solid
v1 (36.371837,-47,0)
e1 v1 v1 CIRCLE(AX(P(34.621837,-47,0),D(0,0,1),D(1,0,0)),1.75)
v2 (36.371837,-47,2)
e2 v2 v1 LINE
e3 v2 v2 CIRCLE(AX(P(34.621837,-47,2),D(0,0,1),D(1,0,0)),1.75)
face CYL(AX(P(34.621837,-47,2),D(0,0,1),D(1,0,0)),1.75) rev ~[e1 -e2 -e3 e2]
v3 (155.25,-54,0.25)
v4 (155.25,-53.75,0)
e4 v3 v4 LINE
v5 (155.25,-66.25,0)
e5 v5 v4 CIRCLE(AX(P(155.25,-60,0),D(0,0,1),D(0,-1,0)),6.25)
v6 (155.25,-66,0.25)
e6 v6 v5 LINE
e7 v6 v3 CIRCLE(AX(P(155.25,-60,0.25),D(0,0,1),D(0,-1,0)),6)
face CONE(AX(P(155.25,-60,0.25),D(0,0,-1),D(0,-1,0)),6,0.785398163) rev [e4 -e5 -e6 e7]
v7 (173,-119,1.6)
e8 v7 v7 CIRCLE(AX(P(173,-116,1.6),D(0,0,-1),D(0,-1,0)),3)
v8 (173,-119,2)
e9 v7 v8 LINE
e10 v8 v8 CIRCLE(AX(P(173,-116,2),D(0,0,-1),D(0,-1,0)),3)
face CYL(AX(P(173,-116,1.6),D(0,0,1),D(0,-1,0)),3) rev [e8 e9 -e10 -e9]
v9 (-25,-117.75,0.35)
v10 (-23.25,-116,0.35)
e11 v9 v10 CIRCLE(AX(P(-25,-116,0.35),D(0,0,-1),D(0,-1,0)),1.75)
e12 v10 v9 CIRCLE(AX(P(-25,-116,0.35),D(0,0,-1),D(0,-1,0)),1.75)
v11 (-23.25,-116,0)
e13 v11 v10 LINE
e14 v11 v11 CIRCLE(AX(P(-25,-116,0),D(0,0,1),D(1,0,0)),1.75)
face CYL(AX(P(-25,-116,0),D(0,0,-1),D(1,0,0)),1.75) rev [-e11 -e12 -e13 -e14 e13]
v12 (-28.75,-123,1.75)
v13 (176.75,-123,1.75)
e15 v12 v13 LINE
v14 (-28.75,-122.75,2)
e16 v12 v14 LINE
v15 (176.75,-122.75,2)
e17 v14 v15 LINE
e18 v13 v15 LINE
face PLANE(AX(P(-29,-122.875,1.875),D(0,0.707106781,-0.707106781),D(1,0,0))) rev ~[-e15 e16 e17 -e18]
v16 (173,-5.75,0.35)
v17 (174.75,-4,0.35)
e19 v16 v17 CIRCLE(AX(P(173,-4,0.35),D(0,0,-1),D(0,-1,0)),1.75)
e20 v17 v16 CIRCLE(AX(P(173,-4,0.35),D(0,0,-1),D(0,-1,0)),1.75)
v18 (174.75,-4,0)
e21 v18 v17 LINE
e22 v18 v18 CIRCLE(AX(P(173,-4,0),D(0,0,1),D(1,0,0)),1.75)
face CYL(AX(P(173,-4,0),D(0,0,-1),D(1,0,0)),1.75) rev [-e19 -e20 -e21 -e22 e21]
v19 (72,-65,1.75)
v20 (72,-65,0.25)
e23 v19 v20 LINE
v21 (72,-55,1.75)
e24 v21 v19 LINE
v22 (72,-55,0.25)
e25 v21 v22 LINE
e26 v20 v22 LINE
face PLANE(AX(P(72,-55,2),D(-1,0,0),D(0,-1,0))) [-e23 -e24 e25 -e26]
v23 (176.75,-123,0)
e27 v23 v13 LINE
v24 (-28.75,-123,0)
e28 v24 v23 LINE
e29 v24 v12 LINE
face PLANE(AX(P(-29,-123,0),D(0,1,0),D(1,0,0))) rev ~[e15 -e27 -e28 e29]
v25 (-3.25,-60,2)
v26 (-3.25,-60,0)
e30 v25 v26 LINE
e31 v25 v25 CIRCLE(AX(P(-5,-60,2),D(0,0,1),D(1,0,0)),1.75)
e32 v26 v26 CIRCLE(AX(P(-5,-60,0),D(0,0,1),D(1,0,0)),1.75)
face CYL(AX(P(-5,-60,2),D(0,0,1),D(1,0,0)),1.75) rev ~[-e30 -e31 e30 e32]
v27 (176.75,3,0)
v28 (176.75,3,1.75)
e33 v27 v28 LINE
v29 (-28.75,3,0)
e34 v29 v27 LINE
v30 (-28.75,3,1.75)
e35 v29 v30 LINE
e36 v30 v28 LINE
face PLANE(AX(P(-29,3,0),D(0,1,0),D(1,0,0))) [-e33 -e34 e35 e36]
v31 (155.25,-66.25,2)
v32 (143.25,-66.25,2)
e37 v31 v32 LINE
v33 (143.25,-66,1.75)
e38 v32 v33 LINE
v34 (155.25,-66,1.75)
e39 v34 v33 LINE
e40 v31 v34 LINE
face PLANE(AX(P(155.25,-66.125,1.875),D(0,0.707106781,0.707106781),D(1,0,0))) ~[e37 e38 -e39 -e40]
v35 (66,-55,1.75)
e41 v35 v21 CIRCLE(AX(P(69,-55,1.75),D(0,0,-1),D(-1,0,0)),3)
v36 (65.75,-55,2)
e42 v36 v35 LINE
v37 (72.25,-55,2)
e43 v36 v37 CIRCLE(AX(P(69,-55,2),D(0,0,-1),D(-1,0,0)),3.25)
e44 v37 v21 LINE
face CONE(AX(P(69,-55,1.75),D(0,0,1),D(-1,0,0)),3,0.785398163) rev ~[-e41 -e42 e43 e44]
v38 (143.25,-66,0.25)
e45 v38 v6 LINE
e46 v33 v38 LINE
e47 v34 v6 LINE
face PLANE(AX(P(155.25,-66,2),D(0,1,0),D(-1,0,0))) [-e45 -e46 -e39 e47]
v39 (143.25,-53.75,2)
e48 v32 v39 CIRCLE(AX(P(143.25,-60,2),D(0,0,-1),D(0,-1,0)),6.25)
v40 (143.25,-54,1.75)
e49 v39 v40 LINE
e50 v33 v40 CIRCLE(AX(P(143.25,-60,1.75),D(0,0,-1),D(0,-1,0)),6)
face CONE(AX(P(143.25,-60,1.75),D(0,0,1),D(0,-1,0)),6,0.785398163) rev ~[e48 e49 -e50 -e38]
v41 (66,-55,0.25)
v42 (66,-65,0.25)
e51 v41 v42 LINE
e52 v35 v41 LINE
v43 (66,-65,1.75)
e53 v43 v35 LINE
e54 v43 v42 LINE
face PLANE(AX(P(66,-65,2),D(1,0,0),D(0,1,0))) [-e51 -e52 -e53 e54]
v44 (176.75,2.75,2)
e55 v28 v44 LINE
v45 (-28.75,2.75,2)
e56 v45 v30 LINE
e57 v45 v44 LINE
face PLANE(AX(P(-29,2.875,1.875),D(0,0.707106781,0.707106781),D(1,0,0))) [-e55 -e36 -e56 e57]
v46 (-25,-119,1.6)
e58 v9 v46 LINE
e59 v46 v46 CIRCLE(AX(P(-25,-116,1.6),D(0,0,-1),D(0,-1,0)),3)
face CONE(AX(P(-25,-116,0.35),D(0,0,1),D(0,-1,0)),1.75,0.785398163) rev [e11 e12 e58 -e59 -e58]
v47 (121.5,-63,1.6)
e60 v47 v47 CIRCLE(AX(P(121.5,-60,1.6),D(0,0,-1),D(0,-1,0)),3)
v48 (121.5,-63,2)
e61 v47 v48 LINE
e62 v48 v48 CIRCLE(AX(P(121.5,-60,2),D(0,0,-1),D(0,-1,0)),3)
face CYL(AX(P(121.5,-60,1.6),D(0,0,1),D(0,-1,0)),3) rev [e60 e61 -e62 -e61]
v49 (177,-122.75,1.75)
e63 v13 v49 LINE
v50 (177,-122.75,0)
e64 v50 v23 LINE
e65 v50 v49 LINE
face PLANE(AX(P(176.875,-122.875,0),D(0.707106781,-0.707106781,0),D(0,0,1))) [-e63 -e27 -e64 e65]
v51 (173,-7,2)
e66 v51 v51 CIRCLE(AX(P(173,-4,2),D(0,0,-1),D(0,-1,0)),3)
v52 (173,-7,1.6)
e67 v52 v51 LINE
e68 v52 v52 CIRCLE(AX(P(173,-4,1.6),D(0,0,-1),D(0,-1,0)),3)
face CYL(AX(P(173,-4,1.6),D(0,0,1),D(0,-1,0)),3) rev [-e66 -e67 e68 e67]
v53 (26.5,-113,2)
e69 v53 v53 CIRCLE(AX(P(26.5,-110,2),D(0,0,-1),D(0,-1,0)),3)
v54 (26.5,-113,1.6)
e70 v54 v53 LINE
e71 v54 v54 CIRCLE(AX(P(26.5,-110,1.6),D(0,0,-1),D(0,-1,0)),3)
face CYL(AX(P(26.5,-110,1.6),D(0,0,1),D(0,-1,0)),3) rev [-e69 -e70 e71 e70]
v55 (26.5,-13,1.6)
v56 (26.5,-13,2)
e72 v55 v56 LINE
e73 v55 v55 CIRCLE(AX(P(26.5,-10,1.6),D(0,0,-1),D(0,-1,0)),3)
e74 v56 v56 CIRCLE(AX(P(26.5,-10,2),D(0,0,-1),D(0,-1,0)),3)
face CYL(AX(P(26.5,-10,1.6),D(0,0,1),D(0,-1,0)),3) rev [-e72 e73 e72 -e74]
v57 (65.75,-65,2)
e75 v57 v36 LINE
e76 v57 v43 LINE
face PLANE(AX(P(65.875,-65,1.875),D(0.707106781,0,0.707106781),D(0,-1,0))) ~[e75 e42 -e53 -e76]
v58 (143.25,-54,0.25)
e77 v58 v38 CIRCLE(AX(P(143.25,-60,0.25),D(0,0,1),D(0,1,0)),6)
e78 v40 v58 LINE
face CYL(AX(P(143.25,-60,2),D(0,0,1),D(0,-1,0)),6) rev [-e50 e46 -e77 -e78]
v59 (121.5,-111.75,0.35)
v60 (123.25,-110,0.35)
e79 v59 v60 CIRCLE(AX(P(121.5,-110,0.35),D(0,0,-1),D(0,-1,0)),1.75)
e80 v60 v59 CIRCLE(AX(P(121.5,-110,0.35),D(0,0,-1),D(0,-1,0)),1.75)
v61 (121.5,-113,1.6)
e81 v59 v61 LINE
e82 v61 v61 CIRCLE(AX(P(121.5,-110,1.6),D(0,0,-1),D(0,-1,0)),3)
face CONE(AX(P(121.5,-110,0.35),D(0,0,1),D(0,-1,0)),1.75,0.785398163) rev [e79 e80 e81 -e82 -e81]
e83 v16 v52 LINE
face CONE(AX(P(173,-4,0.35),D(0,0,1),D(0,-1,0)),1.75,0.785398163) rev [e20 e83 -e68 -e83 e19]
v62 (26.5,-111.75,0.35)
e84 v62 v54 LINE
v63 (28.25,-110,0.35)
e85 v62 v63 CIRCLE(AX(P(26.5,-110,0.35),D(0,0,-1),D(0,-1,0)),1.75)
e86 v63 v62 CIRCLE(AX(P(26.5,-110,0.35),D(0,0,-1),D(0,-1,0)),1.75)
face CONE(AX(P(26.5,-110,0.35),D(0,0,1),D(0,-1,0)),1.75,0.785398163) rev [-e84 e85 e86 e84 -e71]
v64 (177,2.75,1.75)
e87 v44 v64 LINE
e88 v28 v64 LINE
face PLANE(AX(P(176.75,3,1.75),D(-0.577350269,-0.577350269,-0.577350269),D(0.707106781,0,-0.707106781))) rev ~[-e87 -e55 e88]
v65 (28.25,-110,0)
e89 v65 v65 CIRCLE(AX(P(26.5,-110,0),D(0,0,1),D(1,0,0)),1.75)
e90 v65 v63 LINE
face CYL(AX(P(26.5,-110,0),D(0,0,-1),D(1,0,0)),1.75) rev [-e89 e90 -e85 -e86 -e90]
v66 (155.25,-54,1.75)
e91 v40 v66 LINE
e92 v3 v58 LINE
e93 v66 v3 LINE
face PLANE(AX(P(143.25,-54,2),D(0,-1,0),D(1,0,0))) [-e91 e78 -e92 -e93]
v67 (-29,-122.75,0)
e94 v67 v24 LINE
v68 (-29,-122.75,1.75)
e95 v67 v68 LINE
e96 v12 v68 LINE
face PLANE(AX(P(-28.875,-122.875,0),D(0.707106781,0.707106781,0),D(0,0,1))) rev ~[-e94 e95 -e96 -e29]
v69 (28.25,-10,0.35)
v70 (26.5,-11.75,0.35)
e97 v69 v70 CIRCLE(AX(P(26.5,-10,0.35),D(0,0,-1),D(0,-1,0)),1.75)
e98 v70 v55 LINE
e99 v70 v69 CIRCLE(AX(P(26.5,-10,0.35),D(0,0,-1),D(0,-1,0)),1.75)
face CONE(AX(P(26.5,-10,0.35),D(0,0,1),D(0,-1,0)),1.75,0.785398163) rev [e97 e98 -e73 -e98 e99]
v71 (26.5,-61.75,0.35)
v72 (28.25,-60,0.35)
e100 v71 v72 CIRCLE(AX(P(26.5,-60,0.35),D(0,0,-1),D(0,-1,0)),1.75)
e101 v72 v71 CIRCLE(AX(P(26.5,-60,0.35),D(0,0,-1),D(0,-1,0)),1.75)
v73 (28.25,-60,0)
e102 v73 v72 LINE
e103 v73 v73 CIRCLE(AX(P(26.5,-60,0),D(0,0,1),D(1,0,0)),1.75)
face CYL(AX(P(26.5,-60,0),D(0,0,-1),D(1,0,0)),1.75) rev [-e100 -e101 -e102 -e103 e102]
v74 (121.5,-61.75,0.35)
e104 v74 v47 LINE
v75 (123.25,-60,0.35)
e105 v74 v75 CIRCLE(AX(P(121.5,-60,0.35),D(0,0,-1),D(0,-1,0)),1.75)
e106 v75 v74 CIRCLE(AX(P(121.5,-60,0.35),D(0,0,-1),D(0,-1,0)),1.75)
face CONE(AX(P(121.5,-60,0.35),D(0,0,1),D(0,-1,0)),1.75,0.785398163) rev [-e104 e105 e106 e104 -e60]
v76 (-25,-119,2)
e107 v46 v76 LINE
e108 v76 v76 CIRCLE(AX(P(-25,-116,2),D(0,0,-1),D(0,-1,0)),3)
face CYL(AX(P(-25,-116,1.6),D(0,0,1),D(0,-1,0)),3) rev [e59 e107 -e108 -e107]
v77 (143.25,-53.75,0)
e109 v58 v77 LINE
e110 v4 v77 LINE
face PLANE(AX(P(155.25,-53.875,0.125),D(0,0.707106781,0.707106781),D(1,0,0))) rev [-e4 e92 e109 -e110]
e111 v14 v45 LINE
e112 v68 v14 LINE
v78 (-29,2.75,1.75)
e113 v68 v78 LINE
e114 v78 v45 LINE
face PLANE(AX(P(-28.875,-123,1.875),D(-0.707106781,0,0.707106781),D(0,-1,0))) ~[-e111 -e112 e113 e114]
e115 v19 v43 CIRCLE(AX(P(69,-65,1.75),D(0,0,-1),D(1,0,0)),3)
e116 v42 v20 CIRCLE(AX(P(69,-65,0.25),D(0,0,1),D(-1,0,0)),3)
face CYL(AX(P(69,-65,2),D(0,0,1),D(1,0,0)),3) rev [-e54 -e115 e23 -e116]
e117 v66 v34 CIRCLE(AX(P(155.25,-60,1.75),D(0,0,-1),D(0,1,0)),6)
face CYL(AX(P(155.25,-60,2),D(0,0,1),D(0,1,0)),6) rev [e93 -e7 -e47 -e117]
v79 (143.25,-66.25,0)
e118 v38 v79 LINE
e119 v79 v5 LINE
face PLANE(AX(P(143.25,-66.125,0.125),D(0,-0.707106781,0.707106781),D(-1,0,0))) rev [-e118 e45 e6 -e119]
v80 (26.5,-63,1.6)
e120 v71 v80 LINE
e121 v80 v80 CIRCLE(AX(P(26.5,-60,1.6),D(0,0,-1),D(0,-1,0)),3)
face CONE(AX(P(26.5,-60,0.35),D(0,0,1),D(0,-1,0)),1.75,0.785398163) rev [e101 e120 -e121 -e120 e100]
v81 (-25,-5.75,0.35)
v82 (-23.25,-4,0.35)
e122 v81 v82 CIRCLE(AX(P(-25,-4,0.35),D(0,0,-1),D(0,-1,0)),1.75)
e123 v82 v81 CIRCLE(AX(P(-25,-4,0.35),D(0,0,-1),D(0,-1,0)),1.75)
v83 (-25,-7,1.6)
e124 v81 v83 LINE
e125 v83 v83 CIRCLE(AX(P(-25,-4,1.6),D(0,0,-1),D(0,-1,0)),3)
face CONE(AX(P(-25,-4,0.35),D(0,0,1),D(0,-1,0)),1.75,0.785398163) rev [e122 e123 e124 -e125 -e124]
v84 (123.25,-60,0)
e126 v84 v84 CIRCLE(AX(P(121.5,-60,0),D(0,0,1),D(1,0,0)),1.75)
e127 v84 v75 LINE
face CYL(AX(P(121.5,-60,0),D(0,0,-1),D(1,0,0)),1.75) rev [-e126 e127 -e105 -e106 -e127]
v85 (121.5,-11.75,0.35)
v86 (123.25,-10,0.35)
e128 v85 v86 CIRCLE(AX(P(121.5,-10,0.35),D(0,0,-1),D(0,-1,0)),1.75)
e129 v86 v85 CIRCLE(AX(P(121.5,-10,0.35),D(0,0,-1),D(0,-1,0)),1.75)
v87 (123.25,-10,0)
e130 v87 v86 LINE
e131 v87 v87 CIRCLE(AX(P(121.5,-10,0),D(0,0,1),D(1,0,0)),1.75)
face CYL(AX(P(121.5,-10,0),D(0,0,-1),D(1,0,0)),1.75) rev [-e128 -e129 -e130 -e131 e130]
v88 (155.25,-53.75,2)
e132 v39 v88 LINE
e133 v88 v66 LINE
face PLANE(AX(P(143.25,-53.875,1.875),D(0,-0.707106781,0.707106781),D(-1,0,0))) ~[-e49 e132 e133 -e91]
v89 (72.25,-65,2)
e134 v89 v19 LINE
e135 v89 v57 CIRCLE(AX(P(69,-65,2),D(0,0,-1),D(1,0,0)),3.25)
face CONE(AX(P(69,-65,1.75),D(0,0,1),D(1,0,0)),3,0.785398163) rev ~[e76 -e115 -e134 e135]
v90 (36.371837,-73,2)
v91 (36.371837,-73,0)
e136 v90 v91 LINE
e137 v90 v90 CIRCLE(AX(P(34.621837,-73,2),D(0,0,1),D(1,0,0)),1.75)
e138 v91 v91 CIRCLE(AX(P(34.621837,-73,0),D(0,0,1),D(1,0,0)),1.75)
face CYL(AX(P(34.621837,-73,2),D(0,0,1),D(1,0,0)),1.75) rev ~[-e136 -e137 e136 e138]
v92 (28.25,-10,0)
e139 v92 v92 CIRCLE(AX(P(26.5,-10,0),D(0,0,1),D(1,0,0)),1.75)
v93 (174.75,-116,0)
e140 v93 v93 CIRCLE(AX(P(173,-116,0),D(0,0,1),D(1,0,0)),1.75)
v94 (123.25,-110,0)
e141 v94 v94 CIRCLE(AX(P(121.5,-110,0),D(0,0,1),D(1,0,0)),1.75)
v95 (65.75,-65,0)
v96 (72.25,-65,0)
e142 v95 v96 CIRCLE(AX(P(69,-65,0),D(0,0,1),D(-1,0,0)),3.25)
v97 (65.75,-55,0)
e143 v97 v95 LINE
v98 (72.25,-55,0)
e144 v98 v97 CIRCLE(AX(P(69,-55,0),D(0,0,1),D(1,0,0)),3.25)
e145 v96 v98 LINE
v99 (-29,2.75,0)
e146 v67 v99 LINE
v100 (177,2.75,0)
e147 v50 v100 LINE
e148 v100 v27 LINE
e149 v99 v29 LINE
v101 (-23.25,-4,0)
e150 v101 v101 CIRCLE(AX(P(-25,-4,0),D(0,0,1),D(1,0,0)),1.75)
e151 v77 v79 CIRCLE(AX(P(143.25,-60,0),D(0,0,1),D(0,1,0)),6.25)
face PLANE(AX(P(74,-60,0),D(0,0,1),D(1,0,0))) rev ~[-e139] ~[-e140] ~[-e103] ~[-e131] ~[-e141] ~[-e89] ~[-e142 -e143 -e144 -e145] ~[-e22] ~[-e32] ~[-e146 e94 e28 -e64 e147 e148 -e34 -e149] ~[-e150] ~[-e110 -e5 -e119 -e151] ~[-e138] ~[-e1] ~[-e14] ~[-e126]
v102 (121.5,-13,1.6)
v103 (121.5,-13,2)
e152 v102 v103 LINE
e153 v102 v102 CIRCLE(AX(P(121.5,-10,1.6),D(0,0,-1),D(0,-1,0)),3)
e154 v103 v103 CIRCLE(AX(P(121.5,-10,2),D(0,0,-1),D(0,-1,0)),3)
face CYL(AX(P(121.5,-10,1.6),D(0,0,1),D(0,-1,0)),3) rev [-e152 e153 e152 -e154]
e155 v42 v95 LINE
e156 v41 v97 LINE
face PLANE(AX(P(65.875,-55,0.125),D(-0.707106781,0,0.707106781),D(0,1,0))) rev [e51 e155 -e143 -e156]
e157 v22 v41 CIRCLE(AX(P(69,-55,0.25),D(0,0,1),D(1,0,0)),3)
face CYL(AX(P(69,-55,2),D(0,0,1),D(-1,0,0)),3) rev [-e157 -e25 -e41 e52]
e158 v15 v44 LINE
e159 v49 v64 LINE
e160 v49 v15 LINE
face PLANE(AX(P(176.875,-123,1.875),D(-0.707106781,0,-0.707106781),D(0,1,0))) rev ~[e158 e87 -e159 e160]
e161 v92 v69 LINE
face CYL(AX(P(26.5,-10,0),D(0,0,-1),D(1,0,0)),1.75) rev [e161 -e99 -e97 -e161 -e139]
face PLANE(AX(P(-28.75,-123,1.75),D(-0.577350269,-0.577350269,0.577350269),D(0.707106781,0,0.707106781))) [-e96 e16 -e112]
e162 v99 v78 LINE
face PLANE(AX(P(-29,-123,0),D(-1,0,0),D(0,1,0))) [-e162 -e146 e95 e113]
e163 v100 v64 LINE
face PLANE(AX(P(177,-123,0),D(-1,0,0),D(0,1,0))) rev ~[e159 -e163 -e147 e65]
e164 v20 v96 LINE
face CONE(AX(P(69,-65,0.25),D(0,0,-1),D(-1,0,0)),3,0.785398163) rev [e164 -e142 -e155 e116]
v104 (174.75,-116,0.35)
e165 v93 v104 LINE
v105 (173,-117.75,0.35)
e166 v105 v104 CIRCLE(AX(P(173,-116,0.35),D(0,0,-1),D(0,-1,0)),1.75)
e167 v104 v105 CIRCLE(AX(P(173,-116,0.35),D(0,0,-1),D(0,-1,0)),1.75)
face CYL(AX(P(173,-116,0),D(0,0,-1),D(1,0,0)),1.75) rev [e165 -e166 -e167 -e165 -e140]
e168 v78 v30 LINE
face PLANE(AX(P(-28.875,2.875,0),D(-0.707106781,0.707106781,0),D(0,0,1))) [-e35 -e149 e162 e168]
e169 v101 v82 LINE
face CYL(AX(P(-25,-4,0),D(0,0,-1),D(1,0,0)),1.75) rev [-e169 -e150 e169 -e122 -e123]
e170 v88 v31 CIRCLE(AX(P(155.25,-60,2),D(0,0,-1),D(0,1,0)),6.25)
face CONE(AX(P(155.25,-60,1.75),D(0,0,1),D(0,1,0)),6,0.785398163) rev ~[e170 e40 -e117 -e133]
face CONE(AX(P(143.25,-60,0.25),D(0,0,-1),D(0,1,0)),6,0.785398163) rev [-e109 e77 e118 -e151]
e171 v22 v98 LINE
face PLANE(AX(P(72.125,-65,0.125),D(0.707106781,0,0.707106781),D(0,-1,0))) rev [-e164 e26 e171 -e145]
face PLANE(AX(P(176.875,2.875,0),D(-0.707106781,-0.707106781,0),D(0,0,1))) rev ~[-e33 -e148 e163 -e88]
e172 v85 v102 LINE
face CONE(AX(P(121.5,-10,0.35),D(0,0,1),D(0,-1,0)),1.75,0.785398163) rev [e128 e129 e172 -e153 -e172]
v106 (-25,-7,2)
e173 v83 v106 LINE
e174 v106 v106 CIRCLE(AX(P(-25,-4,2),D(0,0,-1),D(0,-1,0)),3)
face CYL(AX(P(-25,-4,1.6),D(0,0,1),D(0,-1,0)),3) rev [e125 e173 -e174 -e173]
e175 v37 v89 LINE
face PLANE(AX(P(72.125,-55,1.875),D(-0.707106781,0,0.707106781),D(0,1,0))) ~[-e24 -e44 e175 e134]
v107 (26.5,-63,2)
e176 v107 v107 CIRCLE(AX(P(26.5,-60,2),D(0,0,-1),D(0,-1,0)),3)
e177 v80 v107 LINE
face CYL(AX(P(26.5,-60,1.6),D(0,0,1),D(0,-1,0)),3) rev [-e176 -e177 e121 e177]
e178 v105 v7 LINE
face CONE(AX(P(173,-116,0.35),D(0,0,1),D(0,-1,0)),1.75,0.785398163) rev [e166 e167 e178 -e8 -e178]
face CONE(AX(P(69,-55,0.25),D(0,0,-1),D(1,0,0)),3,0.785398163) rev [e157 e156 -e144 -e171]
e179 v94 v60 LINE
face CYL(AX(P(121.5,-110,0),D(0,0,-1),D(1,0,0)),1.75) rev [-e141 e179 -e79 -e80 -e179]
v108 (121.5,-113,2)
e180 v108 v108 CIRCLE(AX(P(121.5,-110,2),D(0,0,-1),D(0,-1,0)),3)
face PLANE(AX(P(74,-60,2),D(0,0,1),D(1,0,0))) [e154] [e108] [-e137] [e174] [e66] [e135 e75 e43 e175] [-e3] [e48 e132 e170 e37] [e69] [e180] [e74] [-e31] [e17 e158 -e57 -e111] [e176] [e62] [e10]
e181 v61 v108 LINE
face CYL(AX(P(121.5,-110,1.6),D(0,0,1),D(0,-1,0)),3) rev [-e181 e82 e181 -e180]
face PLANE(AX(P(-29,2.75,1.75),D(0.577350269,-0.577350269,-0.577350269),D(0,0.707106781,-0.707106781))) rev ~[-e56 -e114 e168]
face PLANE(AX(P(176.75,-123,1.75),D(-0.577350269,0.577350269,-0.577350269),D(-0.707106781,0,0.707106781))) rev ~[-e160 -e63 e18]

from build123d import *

# Parameters (mm, degrees)
SKETCH1_W                                      = 206
SKETCH1_H                                      = 126
SKETCH1_R                                      = 1.75
BOSS_EXTRUDE1_DEPTH                            = 2
CUT_EXTRUDE1_REACH                             = 217.55
SKETCH2_R                                      = 1.75
CUT_EXTRUDE2_REACH                             = 217.55
CSK_FOR_M3_FLAT_HEAD_MACHINE_SCREW1_AT_2_COUNT = 2
CSK_FOR_M3_FLAT_HEAD_MACHINE_SCREW1_AT_2_PITCH = 51.848336521
CSK_FOR_M3_FLAT_HEAD_MACHINE_SCREW1_AT_3_COUNT = 2
CSK_FOR_M3_FLAT_HEAD_MACHINE_SCREW1_AT_3_PITCH = 76.08054942
CSK_FOR_M3_FLAT_HEAD_MACHINE_SCREW1_AT_4_COUNT = 2
CSK_FOR_M3_FLAT_HEAD_MACHINE_SCREW1_AT_4_PITCH = 117.848419591
CSK_FOR_M3_FLAT_HEAD_MACHINE_SCREW1_AT_5_COUNT = 2
CSK_FOR_M3_FLAT_HEAD_MACHINE_SCREW1_AT_5_PITCH = 112
CSK_FOR_M3_FLAT_HEAD_MACHINE_SCREW1_AT_6_COUNT = 2
CSK_FOR_M3_FLAT_HEAD_MACHINE_SCREW1_AT_6_PITCH = 146.622815414
CSK_FOR_M3_FLAT_HEAD_MACHINE_SCREW1_AT_7_COUNT = 2
CSK_FOR_M3_FLAT_HEAD_MACHINE_SCREW1_AT_7_PITCH = 198
CSK_FOR_M3_FLAT_HEAD_MACHINE_SCREW1_AT_8_COUNT = 2
CSK_FOR_M3_FLAT_HEAD_MACHINE_SCREW1_AT_8_PITCH = 227.481867409
CSK_FOR_M3_FLAT_HEAD_MACHINE_SCREW1_AT_9_COUNT = 2
CSK_FOR_M3_FLAT_HEAD_MACHINE_SCREW1_AT_9_PITCH = 156.838292518
CSK_FOR_M3_FLAT_HEAD_MACHINE_SCREW1_AT_1_COUNT = 2
CSK_FOR_M3_FLAT_HEAD_MACHINE_SCREW1_AT_1_PITCH = 180.826574374
CHAMFER1_SIZE                                  = 0.25


with BuildPart() as part:
    # Sketch1 → Boss-Extrude1 (new body)
    with BuildSketch(Plane.XY):
        with Locations((74, -60)):
            Rectangle(SKETCH1_W, SKETCH1_H)
        with Locations((-25, -4)):
            Circle(SKETCH1_R, mode=Mode.SUBTRACT)
        with Locations((26.5, -10)):
            Circle(SKETCH1_R, mode=Mode.SUBTRACT)
        with Locations((121.5, -10)):
            Circle(SKETCH1_R, mode=Mode.SUBTRACT)
        with Locations((173, -4)):
            Circle(SKETCH1_R, mode=Mode.SUBTRACT)
        with Locations((173, -116)):
            Circle(SKETCH1_R, mode=Mode.SUBTRACT)
        with Locations((121.5, -60)):
            Circle(SKETCH1_R, mode=Mode.SUBTRACT)
        with Locations((121.5, -110)):
            Circle(SKETCH1_R, mode=Mode.SUBTRACT)
        with Locations((26.5, -110)):
            Circle(SKETCH1_R, mode=Mode.SUBTRACT)
        with Locations((26.5, -60)):
            Circle(SKETCH1_R, mode=Mode.SUBTRACT)
        with Locations((-25, -116)):
            Circle(SKETCH1_R, mode=Mode.SUBTRACT)
    extrude(amount=BOSS_EXTRUDE1_DEPTH)

    # Sketch2 → Cut-Extrude1 (cut, up to next)
    with BuildSketch(Plane.XY.offset(2), mode=Mode.PRIVATE) as cut_extrude1_sk1:
        with Locations((34.621837413, -47)):
            Circle(SKETCH2_R)
    cut_extrude1_tool1 = extrude(cut_extrude1_sk1.sketch, amount=-CUT_EXTRUDE1_REACH, mode=Mode.PRIVATE) & part.part
    # Sketch2 → Cut-Extrude1 (cut, up to next)
    with BuildSketch(Plane.XY.offset(2), mode=Mode.PRIVATE) as cut_extrude1_sk2:
        with Locations((34.621837413, -73)):
            Circle(SKETCH2_R)
    cut_extrude1_tool2 = extrude(cut_extrude1_sk2.sketch, amount=-CUT_EXTRUDE1_REACH, mode=Mode.PRIVATE) & part.part
    # Sketch2 → Cut-Extrude1 (cut, up to next)
    with BuildSketch(Plane.XY.offset(2), mode=Mode.PRIVATE) as cut_extrude1_sk3:
        with Locations((-5, -60)):
            Circle(SKETCH2_R)
    cut_extrude1_tool3 = extrude(cut_extrude1_sk3.sketch, amount=-CUT_EXTRUDE1_REACH, mode=Mode.PRIVATE) & part.part
    add(cut_extrude1_tool1.solids().sort_by_distance((34.621837, -47, 2))[0], mode=Mode.SUBTRACT)
    add(cut_extrude1_tool2.solids().sort_by_distance((34.621837, -73, 2))[0], mode=Mode.SUBTRACT)
    add(cut_extrude1_tool3.solids().sort_by_distance((-5, -60, 2))[0], mode=Mode.SUBTRACT)

    # Sketch7 → Cut-Extrude2 (cut, up to next)
    with BuildSketch(Plane.XY.offset(2), mode=Mode.PRIVATE) as cut_extrude2_sk1:
        with BuildLine():
            Line((72, -55), (72, -65))
            ThreePointArc((72, -65), (69, -68), (66, -65))
            Line((66, -65), (66, -55))
            ThreePointArc((66, -55), (69, -52), (72, -55))
        make_face()
    cut_extrude2_tool1 = extrude(cut_extrude2_sk1.sketch, amount=-CUT_EXTRUDE2_REACH, mode=Mode.PRIVATE) & part.part
    # Sketch7 → Cut-Extrude2 (cut, up to next)
    with BuildSketch(Plane.XY.offset(2), mode=Mode.PRIVATE) as cut_extrude2_sk2:
        with BuildLine():
            Line((143.25, -54), (155.25, -54))
            ThreePointArc((155.25, -54), (161.25, -60), (155.25, -66))
            Line((155.25, -66), (143.25, -66))
            ThreePointArc((143.25, -66), (137.25, -60), (143.25, -54))
        make_face()
    cut_extrude2_tool2 = extrude(cut_extrude2_sk2.sketch, amount=-CUT_EXTRUDE2_REACH, mode=Mode.PRIVATE) & part.part
    add(cut_extrude2_tool1.solids().sort_by_distance((69, -60, 2))[0], mode=Mode.SUBTRACT)
    add(cut_extrude2_tool2.solids().sort_by_distance((149.25, -60, 2))[0], mode=Mode.SUBTRACT)

    # Sketch4 → CSK for M3 Flat Head Machine Screw1 (revolve, cut)
    with BuildSketch(Plane(origin=(-25, -4, 2), x_dir=(0, -1, 0), z_dir=(1, 0, 0))):
        Polygon((0, 0), (0, 2), (1.75, 2), (1.75, 1.65), (3, 0.4), (3, 0), align=None)
    csk_for_m3_flat_head_machine_screw1 = revolve(axis=Axis((-25, -4, 8.35), (0, 0, -1)), mode=Mode.SUBTRACT)

    # CSK for M3 Flat Head Machine Screw1 at 2: CSK for M3 Flat Head Machine Screw1 ×2
    with Locations(*[Vector(0.9932816259031161, -0.11572213117317788, 0) * (i * CSK_FOR_M3_FLAT_HEAD_MACHINE_SCREW1_AT_2_PITCH) for i in range(1, CSK_FOR_M3_FLAT_HEAD_MACHINE_SCREW1_AT_2_COUNT)]):
        add(csk_for_m3_flat_head_machine_screw1, mode=Mode.SUBTRACT)

    # CSK for M3 Flat Head Machine Screw1 at 3: CSK for M3 Flat Head Machine Screw1 ×2
    with Locations(*[Vector(0.6769141441909728, -0.7360619820329011, 0) * (i * CSK_FOR_M3_FLAT_HEAD_MACHINE_SCREW1_AT_3_PITCH) for i in range(1, CSK_FOR_M3_FLAT_HEAD_MACHINE_SCREW1_AT_3_COUNT)]):
        add(csk_for_m3_flat_head_machine_screw1, mode=Mode.SUBTRACT)

    # CSK for M3 Flat Head Machine Screw1 at 4: CSK for M3 Flat Head Machine Screw1 ×2
    with Locations(*[Vector(0.4370020419358412, -0.8994605134990115, 0) * (i * CSK_FOR_M3_FLAT_HEAD_MACHINE_SCREW1_AT_4_PITCH) for i in range(1, CSK_FOR_M3_FLAT_HEAD_MACHINE_SCREW1_AT_4_COUNT)]):
        add(csk_for_m3_flat_head_machine_screw1, mode=Mode.SUBTRACT)

    # CSK for M3 Flat Head Machine Screw1 at 5: CSK for M3 Flat Head Machine Screw1 ×2
    with Locations(*[(0, -i * CSK_FOR_M3_FLAT_HEAD_MACHINE_SCREW1_AT_5_PITCH, 0) for i in range(1, CSK_FOR_M3_FLAT_HEAD_MACHINE_SCREW1_AT_5_COUNT)]):
        add(csk_for_m3_flat_head_machine_screw1, mode=Mode.SUBTRACT)

    # CSK for M3 Flat Head Machine Screw1 at 6: CSK for M3 Flat Head Machine Screw1 ×2
    with Locations(*[Vector(0.9991623717366304, -0.04092132580491247, 0) * (i * CSK_FOR_M3_FLAT_HEAD_MACHINE_SCREW1_AT_6_PITCH) for i in range(1, CSK_FOR_M3_FLAT_HEAD_MACHINE_SCREW1_AT_6_COUNT)]):
        add(csk_for_m3_flat_head_machine_screw1, mode=Mode.SUBTRACT)

    # CSK for M3 Flat Head Machine Screw1 at 7: CSK for M3 Flat Head Machine Screw1 ×2
    with Locations(*[(i * CSK_FOR_M3_FLAT_HEAD_MACHINE_SCREW1_AT_7_PITCH, 0, 0) for i in range(1, CSK_FOR_M3_FLAT_HEAD_MACHINE_SCREW1_AT_7_COUNT)]):
        add(csk_for_m3_flat_head_machine_screw1, mode=Mode.SUBTRACT)

    # CSK for M3 Flat Head Machine Screw1 at 8: CSK for M3 Flat Head Machine Screw1 ×2
    with Locations(*[Vector(0.8703990443501523, -0.4923469341778639, 0) * (i * CSK_FOR_M3_FLAT_HEAD_MACHINE_SCREW1_AT_8_PITCH) for i in range(1, CSK_FOR_M3_FLAT_HEAD_MACHINE_SCREW1_AT_8_COUNT)]):
        add(csk_for_m3_flat_head_machine_screw1, mode=Mode.SUBTRACT)

    # CSK for M3 Flat Head Machine Screw1 at 9: CSK for M3 Flat Head Machine Screw1 ×2
    with Locations(*[Vector(0.934083109729549, -0.3570556596918405, 0) * (i * CSK_FOR_M3_FLAT_HEAD_MACHINE_SCREW1_AT_9_PITCH) for i in range(1, CSK_FOR_M3_FLAT_HEAD_MACHINE_SCREW1_AT_9_COUNT)]):
        add(csk_for_m3_flat_head_machine_screw1, mode=Mode.SUBTRACT)

    # CSK for M3 Flat Head Machine Screw1 at 1: CSK for M3 Flat Head Machine Screw1 ×2
    with Locations(*[Vector(0.8101685302992528, -0.5861970253359775, 0) * (i * CSK_FOR_M3_FLAT_HEAD_MACHINE_SCREW1_AT_1_PITCH) for i in range(1, CSK_FOR_M3_FLAT_HEAD_MACHINE_SCREW1_AT_1_COUNT)]):
        add(csk_for_m3_flat_head_machine_screw1, mode=Mode.SUBTRACT)

    # Chamfer1
    chamfer1_edges = [part.edges().sort_by_distance(p)[0] for p in [
        (177, -60, 2),
        (74, 3, 2),
        (-29, -60, 2),
        (-29, 3, 1),
        (177, 3, 1),
        (177, -123, 1),
        (-29, -123, 1),
        (69, -52, 2),
        (66, -60, 2),
        (69, -68, 2),
        (72, -60, 2),
        (66, -60, 0),
        (69, -52, 0),
        (72, -60, 0),
        (69, -68, 0),
        (137.25, -60, 2),
        (149.25, -66, 2),
        (161.25, -60, 2),
        (149.25, -54, 2),
        (149.25, -66, 0),
        (137.25, -60, 0),
        (149.25, -54, 0),
        (161.25, -60, 0),
        (74, -123, 2),
    ]]
    chamfer(chamfer1_edges, length=CHAMFER1_SIZE)


solid = part.part
